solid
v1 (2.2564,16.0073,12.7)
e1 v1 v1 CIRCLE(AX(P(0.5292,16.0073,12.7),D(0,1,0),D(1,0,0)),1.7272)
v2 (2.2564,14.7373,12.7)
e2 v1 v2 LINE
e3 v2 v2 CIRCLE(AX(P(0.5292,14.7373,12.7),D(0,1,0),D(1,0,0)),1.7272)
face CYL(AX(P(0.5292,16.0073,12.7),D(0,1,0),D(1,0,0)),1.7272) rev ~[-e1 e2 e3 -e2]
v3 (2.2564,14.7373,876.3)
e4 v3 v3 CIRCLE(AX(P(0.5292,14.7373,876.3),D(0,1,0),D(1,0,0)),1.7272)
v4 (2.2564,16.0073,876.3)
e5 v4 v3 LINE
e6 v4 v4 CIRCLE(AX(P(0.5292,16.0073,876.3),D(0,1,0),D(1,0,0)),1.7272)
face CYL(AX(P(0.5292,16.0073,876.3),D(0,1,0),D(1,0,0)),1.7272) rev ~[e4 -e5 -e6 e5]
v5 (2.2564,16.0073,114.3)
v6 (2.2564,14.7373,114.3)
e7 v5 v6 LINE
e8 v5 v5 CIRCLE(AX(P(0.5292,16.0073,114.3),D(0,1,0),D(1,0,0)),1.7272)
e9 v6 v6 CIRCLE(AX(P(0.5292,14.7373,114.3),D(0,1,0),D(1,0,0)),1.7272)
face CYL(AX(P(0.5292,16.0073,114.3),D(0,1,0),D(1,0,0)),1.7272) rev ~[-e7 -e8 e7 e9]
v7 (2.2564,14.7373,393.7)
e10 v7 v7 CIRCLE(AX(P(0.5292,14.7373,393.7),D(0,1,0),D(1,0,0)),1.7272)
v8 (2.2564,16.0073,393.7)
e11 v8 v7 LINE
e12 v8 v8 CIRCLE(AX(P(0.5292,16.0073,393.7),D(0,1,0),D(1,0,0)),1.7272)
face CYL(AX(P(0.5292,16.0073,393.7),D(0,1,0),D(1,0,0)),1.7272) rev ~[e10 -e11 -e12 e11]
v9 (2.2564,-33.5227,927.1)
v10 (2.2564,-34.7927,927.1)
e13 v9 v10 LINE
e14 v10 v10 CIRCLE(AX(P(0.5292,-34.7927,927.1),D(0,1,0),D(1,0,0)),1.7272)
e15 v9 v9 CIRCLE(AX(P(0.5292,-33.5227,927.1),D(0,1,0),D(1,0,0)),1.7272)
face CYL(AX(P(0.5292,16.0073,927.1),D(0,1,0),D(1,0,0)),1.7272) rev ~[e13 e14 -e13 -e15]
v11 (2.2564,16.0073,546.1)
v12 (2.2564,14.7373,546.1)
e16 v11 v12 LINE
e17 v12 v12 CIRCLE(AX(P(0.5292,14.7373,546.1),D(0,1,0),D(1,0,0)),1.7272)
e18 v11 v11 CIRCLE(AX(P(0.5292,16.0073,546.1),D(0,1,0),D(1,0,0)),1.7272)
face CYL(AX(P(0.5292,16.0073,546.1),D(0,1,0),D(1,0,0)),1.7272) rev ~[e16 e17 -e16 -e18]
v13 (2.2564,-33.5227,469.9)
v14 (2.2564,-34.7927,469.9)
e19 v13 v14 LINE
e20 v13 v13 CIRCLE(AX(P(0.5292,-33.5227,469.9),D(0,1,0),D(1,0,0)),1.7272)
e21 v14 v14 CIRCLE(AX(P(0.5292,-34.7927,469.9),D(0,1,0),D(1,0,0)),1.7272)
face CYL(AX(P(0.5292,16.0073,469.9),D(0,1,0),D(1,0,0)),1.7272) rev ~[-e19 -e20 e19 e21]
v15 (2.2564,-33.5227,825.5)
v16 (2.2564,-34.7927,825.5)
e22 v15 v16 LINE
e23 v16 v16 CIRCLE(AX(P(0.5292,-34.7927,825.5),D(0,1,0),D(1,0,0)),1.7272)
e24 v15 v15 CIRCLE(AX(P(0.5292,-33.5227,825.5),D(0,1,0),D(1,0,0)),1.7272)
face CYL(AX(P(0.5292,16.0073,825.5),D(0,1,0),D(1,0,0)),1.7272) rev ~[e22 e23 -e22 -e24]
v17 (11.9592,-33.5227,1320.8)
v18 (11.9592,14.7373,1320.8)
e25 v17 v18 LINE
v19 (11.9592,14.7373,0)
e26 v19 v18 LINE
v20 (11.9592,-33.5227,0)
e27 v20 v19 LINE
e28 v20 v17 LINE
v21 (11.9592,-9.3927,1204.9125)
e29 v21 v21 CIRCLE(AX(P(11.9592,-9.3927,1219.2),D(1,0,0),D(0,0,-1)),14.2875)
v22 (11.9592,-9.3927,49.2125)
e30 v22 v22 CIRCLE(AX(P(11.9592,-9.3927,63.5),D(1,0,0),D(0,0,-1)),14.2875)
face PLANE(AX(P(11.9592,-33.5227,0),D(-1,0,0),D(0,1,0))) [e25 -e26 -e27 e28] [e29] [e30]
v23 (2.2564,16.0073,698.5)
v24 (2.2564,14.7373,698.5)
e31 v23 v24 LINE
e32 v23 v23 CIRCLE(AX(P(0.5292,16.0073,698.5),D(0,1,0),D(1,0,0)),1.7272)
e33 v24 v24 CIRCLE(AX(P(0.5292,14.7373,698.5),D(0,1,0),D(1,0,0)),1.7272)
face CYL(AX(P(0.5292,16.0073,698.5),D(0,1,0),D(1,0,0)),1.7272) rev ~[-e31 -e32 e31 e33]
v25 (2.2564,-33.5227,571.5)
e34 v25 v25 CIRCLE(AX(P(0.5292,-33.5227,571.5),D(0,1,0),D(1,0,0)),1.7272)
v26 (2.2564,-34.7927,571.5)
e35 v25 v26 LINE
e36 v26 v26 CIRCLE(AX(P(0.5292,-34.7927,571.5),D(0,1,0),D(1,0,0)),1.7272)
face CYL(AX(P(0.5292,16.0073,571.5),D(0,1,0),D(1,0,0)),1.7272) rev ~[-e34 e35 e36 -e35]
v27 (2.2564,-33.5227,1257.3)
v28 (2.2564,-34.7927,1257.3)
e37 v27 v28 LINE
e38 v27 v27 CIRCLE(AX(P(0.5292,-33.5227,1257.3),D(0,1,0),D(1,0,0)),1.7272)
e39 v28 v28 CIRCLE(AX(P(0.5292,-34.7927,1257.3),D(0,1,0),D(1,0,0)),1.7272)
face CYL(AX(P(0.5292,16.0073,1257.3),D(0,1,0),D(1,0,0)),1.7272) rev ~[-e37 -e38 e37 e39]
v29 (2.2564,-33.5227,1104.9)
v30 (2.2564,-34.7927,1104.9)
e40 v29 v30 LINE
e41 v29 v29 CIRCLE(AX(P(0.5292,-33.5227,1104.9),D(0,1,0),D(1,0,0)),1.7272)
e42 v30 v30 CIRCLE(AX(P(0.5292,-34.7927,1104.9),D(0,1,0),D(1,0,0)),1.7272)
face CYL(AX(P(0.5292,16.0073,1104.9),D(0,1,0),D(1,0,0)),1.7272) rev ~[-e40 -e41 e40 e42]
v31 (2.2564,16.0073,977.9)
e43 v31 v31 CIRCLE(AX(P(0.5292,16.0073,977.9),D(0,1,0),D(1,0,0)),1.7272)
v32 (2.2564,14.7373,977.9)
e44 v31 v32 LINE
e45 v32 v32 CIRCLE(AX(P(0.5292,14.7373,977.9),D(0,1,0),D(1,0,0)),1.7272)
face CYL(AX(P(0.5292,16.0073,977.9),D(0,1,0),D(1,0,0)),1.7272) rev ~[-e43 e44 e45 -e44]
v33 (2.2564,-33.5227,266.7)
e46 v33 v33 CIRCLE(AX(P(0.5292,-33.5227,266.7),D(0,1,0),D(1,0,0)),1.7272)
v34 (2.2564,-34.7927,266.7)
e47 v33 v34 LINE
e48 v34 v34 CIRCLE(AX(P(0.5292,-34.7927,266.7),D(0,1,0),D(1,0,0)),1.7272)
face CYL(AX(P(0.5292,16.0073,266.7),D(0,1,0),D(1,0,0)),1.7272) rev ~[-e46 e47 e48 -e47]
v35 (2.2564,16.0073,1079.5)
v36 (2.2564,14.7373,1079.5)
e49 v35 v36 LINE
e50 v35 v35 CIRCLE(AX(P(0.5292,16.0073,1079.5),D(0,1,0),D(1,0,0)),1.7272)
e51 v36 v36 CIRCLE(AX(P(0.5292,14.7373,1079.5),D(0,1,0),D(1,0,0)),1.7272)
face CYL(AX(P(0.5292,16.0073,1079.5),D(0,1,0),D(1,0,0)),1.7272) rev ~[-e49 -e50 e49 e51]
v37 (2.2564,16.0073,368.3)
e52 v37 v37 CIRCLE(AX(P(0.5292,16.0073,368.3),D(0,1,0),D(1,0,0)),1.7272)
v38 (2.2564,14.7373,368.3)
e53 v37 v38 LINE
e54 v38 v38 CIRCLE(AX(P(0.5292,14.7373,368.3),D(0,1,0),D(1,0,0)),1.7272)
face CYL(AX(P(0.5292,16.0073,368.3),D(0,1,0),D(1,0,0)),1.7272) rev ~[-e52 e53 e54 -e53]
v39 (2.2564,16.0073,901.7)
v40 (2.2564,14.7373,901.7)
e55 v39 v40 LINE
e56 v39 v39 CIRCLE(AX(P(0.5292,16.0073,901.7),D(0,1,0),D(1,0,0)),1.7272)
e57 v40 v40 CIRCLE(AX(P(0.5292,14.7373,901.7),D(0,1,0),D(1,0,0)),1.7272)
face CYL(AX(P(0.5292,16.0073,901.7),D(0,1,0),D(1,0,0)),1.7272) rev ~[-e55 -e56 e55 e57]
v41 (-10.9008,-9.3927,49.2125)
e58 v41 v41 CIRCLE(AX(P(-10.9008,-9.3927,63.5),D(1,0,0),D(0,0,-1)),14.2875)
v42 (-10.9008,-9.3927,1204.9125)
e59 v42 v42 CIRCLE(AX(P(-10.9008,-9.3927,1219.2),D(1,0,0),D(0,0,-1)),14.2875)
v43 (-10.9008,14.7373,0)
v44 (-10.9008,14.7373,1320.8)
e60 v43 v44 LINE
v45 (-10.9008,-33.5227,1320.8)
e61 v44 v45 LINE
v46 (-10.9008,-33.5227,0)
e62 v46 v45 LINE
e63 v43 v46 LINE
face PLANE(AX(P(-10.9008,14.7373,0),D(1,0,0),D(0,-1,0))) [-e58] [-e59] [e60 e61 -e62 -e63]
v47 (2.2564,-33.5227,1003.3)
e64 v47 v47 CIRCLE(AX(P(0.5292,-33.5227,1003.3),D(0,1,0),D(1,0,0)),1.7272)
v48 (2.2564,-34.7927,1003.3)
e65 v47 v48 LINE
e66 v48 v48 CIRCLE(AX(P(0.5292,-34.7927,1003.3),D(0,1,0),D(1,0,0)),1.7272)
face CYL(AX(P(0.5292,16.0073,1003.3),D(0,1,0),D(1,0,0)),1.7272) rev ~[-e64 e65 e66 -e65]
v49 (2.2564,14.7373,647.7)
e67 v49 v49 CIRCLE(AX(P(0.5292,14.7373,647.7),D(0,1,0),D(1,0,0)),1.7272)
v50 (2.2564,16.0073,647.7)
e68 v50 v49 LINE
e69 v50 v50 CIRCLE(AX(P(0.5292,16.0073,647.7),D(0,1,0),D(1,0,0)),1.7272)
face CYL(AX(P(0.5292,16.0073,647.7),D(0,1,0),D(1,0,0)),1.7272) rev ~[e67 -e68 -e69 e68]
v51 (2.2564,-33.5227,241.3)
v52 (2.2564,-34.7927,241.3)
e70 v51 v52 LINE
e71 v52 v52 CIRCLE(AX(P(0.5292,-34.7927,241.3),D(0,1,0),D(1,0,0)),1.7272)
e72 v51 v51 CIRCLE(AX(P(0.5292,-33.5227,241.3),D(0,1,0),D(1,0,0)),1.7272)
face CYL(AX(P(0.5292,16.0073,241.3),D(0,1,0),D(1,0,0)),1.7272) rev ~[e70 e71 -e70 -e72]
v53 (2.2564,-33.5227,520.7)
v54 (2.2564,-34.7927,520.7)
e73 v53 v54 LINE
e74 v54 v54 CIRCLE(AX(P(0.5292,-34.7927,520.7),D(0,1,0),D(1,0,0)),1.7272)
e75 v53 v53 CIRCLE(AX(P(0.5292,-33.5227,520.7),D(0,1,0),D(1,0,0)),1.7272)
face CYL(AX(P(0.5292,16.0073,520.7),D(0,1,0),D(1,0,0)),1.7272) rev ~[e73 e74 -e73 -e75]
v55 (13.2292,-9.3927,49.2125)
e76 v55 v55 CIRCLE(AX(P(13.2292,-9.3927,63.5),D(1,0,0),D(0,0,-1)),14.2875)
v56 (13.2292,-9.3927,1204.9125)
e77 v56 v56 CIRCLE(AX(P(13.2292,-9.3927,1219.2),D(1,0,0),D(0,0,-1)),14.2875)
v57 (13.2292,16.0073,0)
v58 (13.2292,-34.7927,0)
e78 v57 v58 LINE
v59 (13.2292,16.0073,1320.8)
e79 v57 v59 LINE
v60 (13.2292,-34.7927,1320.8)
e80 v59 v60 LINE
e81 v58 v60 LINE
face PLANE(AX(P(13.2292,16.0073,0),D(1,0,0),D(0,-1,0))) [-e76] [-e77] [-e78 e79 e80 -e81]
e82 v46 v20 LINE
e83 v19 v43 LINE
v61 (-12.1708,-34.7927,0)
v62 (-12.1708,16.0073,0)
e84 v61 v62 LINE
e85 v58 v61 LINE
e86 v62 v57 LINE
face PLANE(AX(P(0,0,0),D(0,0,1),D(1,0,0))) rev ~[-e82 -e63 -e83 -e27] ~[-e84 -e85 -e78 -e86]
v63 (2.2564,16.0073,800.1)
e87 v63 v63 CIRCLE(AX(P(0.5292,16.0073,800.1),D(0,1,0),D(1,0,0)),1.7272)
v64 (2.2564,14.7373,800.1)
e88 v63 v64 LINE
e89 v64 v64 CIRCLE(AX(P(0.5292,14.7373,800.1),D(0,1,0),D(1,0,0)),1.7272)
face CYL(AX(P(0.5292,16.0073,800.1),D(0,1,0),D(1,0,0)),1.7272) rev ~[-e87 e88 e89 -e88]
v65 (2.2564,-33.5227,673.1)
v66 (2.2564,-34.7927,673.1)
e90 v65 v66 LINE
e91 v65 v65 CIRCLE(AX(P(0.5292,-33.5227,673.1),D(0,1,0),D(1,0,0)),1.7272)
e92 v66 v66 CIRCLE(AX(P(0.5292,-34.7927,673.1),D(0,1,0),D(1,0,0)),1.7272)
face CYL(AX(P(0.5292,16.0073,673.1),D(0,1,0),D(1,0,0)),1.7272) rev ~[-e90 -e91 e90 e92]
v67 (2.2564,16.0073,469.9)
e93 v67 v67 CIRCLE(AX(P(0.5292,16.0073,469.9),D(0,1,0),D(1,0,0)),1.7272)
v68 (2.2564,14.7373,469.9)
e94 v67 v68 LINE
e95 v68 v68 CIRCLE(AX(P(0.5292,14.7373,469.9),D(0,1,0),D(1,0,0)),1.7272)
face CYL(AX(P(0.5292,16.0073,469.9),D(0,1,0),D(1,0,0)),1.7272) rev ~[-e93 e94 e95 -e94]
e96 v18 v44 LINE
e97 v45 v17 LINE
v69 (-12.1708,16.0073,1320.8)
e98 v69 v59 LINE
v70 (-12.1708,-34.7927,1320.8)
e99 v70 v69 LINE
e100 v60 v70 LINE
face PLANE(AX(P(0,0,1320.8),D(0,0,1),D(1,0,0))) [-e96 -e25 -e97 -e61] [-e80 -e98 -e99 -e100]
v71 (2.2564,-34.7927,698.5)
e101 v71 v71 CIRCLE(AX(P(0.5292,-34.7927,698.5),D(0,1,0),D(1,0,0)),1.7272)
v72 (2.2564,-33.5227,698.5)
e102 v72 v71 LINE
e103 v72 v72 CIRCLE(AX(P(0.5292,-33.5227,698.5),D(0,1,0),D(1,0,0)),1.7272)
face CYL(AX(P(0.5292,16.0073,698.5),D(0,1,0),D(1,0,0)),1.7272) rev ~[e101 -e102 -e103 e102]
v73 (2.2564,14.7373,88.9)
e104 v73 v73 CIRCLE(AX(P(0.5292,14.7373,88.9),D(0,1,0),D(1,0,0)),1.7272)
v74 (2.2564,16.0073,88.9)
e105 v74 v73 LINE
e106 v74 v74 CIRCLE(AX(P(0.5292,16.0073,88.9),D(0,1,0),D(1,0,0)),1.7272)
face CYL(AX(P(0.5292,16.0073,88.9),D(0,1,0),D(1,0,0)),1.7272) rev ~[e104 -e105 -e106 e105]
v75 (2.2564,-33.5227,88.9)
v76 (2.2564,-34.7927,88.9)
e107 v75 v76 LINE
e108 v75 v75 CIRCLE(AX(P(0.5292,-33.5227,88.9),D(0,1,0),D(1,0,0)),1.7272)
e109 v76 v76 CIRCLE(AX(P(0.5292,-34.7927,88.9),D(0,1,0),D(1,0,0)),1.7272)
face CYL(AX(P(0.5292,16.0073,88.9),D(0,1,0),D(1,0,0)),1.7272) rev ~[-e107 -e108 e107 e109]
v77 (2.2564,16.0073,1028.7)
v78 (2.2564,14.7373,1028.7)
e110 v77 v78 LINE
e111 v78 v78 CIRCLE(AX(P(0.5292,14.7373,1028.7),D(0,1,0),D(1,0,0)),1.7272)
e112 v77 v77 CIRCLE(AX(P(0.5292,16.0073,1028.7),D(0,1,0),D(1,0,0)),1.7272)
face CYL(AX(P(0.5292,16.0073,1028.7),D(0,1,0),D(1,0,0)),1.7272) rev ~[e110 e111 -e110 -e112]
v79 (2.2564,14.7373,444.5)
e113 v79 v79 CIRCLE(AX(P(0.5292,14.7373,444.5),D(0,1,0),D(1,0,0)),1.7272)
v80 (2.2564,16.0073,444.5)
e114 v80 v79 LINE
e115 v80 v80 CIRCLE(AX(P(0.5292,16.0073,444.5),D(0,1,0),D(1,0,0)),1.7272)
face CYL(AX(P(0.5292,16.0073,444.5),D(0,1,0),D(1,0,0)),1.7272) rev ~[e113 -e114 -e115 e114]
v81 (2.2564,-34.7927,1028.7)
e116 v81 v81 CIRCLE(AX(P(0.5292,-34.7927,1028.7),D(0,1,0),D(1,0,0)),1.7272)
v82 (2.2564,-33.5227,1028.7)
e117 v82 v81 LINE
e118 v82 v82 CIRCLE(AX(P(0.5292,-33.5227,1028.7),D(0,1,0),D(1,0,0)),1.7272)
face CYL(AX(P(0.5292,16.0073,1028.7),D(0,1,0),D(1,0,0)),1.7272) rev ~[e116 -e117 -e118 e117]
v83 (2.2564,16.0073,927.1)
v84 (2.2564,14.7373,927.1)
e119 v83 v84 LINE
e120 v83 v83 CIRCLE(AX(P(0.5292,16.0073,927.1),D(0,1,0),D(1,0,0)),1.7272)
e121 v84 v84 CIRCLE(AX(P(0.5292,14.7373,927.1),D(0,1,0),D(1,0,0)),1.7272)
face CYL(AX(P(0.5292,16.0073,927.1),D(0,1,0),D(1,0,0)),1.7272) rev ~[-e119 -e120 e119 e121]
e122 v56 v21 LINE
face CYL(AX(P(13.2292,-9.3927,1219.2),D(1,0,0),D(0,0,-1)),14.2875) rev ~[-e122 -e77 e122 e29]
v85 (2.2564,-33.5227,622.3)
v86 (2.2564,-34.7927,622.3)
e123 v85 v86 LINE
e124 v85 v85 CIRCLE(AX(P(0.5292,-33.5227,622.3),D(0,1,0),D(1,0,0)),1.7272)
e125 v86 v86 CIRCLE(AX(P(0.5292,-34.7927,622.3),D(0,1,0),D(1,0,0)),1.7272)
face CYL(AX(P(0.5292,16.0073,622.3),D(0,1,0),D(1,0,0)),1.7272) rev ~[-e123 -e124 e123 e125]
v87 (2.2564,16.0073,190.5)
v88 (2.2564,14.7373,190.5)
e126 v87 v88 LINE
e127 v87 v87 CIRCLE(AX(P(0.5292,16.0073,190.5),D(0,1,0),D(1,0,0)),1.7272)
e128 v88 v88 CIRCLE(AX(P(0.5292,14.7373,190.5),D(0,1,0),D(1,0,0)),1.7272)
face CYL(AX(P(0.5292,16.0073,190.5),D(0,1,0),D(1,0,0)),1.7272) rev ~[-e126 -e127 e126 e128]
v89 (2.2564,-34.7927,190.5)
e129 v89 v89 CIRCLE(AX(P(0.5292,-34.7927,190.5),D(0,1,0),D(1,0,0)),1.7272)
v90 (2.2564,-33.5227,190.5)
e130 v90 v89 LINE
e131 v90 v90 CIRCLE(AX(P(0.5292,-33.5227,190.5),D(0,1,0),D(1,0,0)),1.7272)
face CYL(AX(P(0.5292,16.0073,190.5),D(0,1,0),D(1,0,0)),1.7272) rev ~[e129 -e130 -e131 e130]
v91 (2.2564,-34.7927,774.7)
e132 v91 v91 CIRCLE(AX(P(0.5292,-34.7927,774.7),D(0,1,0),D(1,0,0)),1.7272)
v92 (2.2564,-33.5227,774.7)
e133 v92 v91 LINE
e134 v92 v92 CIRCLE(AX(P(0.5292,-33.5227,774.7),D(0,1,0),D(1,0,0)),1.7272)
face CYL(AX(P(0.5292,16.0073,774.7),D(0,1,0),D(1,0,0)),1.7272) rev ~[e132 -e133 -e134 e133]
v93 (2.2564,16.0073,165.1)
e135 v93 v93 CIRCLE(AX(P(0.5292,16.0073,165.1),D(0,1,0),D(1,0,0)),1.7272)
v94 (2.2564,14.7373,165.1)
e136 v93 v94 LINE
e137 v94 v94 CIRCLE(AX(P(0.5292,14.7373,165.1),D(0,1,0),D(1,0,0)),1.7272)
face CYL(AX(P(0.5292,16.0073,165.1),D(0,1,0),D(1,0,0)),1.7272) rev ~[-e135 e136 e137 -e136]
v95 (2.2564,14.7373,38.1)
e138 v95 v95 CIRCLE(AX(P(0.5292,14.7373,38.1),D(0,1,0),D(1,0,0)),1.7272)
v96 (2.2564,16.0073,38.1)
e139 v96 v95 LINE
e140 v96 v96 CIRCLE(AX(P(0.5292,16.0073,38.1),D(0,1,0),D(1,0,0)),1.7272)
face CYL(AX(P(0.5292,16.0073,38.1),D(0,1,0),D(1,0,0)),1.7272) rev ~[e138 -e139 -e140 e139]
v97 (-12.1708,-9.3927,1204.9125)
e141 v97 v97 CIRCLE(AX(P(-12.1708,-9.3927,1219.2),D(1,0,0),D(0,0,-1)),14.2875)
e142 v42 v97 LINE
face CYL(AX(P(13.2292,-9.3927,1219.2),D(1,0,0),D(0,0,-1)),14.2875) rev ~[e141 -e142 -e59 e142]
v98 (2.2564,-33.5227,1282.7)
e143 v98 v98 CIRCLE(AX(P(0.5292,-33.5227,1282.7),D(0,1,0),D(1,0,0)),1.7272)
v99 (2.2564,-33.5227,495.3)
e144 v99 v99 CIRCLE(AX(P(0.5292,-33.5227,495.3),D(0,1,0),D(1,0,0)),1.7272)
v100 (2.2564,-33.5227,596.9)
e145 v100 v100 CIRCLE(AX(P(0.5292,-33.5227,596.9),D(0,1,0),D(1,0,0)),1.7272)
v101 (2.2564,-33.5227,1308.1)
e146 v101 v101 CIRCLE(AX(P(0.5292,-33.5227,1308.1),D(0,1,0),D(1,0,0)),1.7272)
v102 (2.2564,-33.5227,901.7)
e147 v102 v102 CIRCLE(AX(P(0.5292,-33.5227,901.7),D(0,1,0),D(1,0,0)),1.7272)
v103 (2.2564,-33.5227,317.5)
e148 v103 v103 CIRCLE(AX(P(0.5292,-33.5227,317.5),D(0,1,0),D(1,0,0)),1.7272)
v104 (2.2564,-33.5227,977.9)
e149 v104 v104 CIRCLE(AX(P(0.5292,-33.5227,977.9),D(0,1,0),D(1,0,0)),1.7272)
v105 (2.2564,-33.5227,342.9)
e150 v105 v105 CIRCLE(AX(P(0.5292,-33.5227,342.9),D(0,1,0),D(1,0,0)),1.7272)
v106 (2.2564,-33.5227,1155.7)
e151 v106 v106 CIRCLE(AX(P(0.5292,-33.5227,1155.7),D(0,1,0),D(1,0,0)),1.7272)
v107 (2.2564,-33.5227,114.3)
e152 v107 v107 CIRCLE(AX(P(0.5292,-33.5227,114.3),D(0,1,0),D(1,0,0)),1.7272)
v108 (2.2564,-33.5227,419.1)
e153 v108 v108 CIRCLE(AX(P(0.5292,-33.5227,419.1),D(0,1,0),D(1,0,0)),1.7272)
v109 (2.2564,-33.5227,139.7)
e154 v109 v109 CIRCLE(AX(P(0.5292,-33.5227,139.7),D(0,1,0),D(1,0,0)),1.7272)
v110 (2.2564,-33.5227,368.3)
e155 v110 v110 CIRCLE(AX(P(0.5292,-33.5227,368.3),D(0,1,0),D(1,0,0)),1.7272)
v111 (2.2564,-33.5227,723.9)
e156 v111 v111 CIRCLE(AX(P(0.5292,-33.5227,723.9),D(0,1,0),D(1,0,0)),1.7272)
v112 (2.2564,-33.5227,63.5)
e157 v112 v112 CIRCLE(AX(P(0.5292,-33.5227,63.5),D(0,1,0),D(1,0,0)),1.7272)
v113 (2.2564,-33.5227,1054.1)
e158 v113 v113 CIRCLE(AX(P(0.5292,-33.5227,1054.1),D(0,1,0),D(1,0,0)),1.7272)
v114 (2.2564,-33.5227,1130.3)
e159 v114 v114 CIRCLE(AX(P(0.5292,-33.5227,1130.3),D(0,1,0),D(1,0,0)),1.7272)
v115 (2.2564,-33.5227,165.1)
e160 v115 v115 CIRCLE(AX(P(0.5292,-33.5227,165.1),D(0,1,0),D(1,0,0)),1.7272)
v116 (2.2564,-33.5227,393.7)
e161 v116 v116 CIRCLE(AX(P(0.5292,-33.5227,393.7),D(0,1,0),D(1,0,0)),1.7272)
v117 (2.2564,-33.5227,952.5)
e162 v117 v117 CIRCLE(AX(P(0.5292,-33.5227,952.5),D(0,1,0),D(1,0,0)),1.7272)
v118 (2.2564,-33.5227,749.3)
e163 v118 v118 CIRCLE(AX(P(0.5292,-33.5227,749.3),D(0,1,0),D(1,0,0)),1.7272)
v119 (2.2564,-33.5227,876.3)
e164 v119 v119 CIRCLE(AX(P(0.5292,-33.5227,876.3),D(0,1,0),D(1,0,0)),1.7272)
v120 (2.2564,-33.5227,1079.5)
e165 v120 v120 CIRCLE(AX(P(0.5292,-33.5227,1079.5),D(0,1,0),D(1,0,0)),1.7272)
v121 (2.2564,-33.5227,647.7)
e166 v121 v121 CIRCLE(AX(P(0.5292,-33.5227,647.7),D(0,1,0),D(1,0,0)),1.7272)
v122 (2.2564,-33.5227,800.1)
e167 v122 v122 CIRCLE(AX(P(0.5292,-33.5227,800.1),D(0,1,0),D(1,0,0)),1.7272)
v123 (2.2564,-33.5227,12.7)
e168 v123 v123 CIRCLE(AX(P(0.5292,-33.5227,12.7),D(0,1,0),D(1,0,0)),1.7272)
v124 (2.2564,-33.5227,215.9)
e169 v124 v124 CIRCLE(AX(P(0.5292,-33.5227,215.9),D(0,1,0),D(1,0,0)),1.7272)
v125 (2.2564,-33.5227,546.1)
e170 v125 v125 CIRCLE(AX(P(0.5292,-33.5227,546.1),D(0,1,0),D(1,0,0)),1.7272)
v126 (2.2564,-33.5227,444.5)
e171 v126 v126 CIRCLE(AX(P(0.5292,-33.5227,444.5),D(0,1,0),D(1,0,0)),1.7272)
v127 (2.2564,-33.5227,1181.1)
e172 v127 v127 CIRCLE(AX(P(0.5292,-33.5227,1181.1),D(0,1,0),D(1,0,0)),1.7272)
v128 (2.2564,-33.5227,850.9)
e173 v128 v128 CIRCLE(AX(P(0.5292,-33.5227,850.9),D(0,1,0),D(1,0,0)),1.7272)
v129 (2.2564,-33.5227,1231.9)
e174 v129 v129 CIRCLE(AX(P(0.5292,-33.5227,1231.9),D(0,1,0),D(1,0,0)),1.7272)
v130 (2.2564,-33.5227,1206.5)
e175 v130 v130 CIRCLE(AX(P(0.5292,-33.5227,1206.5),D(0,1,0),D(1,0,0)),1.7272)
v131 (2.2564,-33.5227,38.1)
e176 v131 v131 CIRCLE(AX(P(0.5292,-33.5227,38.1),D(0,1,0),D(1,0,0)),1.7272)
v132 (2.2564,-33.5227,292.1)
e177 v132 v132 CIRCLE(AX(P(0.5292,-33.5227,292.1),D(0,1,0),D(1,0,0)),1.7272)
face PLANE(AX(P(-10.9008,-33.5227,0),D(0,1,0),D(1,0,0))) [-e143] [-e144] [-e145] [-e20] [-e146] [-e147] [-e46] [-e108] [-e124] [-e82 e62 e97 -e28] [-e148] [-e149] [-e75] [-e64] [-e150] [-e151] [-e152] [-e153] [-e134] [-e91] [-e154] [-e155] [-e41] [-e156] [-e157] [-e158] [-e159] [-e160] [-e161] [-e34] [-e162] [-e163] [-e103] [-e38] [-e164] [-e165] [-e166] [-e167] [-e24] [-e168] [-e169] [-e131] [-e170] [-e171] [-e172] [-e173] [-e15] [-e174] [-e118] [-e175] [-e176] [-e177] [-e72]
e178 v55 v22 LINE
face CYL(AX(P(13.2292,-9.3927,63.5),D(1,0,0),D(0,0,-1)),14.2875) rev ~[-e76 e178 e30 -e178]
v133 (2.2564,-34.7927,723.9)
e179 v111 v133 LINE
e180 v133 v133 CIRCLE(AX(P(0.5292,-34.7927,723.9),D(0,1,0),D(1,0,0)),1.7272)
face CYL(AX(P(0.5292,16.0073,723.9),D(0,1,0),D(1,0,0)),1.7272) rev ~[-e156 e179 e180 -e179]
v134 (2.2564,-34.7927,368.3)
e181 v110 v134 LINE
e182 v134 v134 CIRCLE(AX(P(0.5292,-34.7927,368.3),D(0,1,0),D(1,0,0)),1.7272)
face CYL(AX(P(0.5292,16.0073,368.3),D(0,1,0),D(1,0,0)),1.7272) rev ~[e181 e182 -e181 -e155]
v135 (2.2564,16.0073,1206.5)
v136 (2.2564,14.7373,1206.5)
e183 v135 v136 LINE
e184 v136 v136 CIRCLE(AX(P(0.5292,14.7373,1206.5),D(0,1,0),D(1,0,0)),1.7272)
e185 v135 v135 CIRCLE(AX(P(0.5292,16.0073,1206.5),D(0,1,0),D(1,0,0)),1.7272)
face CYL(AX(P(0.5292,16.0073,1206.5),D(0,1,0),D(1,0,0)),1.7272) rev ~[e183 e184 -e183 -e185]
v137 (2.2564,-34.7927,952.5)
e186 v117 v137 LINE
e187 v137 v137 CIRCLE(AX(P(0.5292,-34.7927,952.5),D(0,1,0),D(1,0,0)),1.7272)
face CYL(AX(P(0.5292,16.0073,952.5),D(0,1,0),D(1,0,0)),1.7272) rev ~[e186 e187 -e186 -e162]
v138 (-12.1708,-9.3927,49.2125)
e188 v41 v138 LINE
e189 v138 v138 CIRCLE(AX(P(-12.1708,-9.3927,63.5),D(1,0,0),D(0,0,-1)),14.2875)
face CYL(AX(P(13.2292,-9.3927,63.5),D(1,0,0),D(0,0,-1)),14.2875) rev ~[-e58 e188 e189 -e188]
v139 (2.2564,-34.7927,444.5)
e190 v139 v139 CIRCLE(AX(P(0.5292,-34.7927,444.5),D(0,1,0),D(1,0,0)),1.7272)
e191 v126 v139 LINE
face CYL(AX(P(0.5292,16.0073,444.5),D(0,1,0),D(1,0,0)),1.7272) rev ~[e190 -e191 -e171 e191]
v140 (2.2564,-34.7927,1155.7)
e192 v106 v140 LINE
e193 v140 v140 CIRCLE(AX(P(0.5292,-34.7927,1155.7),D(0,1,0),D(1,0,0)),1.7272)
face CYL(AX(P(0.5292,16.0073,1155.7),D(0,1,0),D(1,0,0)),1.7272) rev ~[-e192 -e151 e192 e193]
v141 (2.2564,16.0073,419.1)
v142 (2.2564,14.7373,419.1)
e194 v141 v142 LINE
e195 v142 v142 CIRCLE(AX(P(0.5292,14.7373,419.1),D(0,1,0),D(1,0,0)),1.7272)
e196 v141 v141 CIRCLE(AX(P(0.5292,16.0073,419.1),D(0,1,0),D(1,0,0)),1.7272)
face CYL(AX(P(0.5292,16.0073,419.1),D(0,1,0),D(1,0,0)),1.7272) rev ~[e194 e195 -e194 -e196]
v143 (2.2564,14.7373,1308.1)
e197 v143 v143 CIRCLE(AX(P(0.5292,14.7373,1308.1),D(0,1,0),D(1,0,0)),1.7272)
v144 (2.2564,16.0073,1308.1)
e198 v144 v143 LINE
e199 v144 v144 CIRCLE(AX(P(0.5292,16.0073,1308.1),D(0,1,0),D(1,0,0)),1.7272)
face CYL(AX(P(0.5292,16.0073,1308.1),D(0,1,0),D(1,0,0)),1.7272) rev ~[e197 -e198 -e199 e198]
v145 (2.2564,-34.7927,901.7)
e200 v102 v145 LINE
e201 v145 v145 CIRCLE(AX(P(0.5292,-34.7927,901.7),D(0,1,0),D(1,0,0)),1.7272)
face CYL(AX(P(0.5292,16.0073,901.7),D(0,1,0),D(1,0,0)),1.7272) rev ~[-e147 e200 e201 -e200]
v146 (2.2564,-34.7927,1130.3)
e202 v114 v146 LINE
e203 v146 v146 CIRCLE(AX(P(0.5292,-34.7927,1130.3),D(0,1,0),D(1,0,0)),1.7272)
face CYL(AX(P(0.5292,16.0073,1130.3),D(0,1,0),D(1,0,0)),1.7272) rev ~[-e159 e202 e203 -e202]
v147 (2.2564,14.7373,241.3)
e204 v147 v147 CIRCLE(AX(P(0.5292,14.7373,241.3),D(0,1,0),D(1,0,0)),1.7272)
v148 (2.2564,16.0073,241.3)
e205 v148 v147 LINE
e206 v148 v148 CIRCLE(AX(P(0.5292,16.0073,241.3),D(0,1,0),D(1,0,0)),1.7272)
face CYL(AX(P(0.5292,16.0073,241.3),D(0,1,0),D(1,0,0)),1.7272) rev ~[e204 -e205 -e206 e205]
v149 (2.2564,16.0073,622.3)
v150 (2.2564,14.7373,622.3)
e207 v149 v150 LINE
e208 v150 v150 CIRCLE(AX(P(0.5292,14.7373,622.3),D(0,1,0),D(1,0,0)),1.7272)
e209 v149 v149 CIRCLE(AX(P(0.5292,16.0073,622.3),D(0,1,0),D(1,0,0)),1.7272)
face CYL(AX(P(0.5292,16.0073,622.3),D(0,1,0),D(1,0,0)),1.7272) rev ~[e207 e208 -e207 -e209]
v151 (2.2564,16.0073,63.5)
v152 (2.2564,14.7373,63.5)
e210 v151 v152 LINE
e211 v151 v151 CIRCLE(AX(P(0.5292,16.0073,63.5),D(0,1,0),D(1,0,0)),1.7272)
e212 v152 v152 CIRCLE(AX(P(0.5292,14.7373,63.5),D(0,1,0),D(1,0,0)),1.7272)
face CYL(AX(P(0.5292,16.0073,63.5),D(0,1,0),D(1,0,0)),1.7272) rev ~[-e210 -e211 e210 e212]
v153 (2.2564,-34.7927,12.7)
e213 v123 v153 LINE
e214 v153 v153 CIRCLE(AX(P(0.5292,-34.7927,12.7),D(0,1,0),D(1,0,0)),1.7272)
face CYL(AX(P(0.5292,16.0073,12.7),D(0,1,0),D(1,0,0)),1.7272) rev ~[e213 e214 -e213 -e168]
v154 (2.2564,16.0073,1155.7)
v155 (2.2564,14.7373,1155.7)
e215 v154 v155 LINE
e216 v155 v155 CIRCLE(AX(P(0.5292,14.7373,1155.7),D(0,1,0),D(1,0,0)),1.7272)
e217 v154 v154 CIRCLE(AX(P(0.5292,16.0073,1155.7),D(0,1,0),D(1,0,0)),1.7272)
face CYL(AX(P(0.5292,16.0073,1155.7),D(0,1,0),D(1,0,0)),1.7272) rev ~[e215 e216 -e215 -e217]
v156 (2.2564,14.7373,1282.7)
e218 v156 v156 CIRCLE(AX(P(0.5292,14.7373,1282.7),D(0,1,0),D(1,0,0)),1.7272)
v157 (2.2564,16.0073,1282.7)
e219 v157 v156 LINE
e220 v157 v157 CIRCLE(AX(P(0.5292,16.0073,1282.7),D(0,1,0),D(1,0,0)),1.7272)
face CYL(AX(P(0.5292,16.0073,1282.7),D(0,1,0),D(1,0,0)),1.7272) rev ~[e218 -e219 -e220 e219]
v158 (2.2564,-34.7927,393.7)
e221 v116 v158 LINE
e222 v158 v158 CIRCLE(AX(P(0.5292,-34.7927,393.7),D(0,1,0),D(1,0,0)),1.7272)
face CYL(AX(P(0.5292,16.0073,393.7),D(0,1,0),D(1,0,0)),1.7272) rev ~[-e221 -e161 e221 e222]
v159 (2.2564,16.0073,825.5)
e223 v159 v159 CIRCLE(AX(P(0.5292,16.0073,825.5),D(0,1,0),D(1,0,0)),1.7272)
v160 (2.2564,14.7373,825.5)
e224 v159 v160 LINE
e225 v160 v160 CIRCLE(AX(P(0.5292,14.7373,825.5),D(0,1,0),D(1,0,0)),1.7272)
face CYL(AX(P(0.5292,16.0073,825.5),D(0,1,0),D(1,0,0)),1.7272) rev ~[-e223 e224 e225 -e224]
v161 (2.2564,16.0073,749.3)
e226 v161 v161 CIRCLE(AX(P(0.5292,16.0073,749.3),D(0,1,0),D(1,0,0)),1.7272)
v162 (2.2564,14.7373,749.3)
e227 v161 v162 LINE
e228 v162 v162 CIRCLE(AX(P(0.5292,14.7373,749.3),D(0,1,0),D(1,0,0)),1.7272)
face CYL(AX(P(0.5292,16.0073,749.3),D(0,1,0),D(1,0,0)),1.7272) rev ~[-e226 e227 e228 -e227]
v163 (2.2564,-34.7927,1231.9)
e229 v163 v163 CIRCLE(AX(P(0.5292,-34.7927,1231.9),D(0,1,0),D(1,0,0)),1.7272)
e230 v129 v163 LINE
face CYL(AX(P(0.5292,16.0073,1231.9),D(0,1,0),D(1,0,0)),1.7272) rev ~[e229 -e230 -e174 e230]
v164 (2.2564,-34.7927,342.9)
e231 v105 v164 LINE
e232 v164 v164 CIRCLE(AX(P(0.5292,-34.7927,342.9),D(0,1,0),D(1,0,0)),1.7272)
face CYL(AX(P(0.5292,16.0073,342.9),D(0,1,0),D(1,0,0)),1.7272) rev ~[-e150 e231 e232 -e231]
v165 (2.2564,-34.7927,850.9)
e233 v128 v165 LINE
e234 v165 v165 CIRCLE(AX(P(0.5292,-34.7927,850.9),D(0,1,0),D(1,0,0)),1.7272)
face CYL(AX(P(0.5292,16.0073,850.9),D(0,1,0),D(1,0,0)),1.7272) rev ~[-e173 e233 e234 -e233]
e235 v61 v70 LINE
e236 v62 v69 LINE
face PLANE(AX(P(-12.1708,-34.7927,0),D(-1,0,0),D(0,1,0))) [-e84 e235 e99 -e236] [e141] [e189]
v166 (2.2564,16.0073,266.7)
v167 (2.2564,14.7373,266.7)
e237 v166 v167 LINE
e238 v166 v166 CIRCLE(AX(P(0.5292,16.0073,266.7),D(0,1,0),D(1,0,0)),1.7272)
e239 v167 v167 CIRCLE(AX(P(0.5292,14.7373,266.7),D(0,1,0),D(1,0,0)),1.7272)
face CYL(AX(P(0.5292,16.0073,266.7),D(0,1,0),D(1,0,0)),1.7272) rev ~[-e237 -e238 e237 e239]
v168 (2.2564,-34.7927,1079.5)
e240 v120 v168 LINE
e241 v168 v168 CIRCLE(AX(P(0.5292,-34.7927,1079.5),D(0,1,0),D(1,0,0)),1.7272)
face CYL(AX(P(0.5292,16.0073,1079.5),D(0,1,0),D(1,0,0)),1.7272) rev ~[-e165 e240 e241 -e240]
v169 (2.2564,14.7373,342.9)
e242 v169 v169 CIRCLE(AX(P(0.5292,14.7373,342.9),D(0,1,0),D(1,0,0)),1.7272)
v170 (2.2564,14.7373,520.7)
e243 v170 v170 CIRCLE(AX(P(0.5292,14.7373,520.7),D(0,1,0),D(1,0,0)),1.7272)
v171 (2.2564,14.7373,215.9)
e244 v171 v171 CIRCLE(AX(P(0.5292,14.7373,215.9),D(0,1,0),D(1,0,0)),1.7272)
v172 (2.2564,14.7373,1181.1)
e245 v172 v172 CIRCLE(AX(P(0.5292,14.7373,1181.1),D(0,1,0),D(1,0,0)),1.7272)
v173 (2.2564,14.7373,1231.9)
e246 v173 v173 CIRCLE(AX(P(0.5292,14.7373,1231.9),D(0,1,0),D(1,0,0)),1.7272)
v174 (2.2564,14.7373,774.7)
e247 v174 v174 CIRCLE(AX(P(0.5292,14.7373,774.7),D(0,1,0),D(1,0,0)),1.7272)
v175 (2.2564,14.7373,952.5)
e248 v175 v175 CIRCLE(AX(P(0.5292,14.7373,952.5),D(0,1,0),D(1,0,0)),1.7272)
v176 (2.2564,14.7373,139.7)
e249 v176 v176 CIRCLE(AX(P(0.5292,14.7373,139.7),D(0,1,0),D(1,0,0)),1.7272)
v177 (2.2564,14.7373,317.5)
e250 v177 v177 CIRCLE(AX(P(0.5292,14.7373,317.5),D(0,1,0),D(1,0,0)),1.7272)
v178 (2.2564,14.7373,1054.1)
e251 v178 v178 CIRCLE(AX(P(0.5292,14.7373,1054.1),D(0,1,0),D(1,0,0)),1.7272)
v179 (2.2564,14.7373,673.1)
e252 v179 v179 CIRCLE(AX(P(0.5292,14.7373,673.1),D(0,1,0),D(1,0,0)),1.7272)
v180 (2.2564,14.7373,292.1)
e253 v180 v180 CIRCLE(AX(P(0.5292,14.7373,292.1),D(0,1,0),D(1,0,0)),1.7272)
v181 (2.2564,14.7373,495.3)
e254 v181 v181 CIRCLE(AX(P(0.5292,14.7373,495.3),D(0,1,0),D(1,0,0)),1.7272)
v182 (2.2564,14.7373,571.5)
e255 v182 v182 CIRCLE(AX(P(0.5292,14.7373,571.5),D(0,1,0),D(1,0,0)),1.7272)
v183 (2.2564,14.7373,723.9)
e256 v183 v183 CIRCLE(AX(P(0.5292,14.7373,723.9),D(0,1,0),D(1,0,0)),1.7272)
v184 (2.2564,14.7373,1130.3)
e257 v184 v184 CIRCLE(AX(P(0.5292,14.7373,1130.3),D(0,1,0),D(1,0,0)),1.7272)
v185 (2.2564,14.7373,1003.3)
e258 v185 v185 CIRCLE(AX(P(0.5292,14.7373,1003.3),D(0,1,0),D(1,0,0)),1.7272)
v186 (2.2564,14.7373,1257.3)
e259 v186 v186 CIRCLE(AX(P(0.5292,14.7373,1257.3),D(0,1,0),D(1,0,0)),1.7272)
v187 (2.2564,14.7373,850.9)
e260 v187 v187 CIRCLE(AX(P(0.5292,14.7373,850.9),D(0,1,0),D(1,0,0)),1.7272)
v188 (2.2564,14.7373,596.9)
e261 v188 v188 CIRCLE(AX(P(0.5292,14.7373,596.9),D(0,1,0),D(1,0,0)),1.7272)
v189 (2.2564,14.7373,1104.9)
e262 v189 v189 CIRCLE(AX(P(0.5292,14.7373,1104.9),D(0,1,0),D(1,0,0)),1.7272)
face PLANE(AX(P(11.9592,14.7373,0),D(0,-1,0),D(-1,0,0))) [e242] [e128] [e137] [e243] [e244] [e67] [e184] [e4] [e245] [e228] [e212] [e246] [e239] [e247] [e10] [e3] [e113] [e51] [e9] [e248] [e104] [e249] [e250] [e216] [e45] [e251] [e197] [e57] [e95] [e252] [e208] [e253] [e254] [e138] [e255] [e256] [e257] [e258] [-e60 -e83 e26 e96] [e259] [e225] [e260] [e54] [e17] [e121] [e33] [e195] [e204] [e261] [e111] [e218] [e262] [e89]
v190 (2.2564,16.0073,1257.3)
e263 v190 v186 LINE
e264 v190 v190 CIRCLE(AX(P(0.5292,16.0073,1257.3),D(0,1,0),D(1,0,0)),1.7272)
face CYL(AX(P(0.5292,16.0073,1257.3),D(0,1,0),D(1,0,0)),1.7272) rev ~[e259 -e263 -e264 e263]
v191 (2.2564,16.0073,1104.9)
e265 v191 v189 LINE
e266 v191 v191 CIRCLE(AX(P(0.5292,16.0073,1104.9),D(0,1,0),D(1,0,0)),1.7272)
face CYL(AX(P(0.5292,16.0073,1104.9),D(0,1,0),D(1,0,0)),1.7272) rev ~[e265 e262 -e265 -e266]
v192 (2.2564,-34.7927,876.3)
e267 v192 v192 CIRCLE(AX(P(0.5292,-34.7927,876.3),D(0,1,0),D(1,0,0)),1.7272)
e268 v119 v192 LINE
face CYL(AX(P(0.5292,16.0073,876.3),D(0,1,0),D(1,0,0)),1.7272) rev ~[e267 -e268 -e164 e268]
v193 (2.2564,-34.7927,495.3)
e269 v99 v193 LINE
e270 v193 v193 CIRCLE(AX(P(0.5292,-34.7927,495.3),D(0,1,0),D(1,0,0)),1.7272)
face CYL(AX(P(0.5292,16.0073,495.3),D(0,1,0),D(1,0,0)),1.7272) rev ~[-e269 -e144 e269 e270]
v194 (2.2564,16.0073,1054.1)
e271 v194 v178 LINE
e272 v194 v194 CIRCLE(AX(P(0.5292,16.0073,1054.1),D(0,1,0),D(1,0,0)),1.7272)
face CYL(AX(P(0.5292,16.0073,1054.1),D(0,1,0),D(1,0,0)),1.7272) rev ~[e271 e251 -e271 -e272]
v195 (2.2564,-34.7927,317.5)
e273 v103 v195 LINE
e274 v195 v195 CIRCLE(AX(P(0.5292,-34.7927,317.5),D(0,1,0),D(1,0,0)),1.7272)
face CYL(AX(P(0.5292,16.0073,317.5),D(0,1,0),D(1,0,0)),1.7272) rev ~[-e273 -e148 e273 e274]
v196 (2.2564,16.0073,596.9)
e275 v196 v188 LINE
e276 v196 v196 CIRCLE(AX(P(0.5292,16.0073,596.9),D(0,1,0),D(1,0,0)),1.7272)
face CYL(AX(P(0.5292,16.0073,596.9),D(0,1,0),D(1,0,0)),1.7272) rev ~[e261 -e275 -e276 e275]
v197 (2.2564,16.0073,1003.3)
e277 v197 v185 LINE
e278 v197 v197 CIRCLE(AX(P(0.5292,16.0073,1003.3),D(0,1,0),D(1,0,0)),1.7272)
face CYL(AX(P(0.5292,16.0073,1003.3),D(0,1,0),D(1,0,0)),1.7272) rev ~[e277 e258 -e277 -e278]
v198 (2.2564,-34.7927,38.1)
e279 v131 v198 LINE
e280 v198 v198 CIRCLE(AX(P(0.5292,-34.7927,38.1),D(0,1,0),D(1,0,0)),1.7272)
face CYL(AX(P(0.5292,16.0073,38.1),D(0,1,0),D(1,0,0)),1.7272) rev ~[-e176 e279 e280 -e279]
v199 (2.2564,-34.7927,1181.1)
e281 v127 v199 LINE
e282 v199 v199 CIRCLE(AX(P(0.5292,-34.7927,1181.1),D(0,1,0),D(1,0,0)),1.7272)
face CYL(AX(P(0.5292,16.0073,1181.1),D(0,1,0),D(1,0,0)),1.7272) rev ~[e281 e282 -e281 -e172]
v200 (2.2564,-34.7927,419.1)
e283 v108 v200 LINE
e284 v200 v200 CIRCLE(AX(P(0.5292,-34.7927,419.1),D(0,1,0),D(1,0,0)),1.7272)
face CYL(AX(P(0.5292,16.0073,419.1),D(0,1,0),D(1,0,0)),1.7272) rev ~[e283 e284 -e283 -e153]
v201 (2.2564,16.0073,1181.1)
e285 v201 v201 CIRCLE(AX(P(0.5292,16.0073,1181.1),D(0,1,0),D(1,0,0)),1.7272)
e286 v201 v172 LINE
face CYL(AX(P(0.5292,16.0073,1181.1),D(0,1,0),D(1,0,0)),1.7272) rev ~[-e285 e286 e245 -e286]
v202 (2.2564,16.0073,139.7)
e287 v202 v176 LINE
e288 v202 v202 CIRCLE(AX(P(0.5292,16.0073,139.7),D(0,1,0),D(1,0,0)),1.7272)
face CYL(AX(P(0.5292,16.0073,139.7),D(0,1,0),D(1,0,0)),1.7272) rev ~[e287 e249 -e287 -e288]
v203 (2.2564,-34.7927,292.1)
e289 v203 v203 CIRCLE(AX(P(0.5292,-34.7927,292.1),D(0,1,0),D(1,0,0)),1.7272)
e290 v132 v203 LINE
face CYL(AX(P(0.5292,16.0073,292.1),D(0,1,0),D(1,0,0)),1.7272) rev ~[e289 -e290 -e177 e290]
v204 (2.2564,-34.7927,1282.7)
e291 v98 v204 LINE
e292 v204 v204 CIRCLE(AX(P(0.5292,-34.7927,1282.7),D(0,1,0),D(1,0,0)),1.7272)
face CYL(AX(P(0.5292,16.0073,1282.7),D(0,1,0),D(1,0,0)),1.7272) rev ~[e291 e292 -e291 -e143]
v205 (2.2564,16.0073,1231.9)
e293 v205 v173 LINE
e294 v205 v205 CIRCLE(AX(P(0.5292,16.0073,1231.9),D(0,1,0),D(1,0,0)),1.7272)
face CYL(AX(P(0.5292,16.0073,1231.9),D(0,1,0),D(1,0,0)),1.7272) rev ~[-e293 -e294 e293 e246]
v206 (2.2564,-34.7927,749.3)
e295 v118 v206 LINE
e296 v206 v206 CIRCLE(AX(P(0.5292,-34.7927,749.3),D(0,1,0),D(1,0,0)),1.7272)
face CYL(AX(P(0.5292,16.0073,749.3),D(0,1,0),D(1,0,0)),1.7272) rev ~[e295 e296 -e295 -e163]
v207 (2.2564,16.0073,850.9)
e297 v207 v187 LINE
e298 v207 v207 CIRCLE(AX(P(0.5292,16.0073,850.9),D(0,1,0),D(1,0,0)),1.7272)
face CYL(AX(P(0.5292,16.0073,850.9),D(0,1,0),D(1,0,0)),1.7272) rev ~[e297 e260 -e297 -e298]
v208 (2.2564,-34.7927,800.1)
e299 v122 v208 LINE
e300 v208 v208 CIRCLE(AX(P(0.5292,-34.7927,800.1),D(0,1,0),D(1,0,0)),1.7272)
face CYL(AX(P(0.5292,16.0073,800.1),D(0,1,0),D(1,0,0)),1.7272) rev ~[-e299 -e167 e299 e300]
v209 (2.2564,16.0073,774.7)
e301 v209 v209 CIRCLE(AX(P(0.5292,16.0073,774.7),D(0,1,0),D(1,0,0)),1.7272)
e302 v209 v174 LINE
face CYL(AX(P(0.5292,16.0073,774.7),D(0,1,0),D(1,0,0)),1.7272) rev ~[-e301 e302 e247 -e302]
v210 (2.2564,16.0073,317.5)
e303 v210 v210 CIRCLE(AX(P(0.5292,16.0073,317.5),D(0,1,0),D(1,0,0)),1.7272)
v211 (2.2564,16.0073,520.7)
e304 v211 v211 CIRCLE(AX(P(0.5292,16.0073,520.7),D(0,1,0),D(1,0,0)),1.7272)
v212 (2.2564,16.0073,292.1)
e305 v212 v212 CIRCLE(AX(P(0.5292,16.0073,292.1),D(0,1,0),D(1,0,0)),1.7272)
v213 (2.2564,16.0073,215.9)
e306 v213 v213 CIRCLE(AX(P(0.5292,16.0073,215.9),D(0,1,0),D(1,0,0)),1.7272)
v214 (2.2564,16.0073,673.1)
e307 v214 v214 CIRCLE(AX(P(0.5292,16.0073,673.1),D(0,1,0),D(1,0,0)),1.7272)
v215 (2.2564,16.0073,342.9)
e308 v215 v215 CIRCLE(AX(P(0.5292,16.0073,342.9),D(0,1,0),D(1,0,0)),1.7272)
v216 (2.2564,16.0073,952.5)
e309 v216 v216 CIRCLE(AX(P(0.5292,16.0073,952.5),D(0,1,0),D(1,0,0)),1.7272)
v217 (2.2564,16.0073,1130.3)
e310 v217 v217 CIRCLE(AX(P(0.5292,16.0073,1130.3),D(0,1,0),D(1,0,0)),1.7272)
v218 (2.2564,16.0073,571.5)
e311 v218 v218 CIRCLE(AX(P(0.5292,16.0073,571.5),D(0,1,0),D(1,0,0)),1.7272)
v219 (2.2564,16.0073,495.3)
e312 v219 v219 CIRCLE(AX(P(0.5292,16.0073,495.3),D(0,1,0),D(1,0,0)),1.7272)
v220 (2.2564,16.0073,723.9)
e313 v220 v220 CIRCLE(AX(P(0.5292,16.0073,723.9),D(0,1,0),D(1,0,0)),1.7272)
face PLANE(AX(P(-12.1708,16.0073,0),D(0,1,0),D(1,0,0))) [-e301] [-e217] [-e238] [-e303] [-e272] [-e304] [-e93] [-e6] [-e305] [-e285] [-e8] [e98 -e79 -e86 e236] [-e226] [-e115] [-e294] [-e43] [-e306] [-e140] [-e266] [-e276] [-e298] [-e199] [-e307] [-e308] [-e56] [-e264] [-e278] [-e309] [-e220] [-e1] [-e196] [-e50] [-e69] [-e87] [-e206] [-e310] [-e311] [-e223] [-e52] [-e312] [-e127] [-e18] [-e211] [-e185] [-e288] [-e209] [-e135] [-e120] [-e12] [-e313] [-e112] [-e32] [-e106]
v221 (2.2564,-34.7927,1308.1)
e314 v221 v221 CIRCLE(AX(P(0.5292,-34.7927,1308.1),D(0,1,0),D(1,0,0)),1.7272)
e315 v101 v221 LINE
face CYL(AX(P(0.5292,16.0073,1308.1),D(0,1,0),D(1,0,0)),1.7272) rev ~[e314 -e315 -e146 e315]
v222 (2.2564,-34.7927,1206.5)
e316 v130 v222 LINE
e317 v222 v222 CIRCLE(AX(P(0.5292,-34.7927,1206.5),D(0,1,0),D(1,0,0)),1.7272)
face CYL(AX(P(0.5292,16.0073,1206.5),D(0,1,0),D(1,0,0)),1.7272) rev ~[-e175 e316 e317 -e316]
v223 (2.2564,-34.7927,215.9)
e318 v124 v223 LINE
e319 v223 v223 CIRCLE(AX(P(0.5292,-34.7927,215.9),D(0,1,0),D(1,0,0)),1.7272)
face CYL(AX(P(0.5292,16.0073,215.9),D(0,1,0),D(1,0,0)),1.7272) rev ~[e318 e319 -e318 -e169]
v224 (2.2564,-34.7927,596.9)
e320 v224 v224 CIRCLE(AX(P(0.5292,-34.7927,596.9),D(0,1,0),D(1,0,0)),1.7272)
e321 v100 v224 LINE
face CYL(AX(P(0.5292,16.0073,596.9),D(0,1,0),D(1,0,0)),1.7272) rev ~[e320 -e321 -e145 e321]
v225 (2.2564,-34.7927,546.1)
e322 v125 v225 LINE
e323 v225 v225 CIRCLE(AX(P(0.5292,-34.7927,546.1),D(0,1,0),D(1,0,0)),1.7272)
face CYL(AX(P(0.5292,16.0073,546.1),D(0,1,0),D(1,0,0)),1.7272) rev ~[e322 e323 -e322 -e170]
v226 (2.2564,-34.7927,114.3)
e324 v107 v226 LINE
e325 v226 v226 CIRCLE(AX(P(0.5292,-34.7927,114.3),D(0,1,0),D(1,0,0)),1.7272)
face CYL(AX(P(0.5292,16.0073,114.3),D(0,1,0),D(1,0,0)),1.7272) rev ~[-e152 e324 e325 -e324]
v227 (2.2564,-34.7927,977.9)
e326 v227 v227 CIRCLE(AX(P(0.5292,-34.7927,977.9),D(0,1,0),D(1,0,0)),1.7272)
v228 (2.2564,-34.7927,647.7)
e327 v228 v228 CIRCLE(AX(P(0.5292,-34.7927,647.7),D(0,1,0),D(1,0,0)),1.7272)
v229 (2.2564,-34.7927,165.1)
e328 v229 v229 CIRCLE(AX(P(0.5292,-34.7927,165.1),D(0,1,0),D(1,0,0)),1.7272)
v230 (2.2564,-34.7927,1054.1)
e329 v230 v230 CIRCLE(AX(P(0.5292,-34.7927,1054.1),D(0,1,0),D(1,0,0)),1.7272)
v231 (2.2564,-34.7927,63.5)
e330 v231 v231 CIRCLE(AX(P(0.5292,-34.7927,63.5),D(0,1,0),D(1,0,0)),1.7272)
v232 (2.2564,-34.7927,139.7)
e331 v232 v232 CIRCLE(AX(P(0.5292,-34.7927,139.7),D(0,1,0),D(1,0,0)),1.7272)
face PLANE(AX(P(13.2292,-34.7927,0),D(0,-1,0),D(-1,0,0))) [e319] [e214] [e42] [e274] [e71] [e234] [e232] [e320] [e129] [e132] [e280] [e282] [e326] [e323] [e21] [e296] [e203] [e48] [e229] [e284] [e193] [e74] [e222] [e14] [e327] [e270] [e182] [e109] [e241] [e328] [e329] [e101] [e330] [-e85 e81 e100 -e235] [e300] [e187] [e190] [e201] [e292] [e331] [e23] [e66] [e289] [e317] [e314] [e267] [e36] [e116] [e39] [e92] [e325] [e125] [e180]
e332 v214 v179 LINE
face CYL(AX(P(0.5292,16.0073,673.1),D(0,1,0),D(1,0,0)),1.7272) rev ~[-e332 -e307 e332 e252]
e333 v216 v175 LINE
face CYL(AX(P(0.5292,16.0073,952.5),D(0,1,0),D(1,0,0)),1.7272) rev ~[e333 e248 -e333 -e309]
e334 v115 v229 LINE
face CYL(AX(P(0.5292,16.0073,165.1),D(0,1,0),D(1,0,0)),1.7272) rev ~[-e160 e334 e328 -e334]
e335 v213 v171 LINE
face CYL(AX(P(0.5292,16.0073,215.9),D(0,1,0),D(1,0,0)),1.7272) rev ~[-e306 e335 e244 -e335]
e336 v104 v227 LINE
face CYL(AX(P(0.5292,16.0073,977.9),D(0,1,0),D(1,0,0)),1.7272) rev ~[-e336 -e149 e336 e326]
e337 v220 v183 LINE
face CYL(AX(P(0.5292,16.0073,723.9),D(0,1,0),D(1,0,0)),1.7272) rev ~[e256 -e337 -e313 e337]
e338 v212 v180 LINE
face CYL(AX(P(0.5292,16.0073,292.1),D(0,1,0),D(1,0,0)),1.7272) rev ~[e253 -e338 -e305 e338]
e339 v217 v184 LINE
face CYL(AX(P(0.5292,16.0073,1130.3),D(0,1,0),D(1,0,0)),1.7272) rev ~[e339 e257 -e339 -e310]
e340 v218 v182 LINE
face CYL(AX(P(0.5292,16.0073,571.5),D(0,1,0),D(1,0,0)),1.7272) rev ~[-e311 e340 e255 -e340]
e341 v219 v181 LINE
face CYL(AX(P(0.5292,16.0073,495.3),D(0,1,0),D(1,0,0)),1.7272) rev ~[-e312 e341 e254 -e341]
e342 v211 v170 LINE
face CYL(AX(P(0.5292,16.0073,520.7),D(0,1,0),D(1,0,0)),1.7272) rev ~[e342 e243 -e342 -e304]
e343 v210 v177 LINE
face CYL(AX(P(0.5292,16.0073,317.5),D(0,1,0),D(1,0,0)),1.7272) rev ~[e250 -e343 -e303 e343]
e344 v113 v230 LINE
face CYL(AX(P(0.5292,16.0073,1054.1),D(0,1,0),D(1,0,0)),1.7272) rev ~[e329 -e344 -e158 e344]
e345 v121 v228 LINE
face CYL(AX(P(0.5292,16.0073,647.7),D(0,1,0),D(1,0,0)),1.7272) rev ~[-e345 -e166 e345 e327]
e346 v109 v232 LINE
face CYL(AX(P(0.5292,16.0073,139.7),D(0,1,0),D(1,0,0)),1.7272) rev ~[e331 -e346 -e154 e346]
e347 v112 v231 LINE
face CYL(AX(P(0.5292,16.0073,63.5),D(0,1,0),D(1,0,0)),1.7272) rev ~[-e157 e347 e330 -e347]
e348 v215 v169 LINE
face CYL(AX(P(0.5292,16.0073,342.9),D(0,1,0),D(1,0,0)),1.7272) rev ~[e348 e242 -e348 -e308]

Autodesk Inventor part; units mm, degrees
ref_plane "YZ Plane" through (0, 0, 0) normal (1, 0, 0) x (0, 1, 0)
ref_plane "XZ Plane" through (0, 0, 0) normal (0, 1, 0) x (-1, 0, 0)
ref_plane "XY Plane" through (0, 0, 0) normal (0, 0, 1) x (1, 0, 0)
sketch "Sketch1" plane through (0, 0, 0) normal (0, 0, 1) x (1, 0, 0)
  line L0 (-12.1708, 16.0073) -> (13.2292, 16.0073)
  line L1 (13.2292, 16.0073) -> (13.2292, -34.7927)
  line L2 (13.2292, -34.7927) -> (-12.1708, -34.7927)
  line L3 (-12.1708, -34.7927) -> (-12.1708, 16.0073)
  line L4 (11.9592, 14.7373) -> (-10.9008, 14.7373)
  line L5 (-10.9008, 14.7373) -> (-10.9008, -33.5227)
  line L6 (-10.9008, -33.5227) -> (11.9592, -33.5227)
  line L7 (11.9592, -33.5227) -> (11.9592, 14.7373)
  point P0 (0, 0)
  dimension "d0" = 25.4
  dimension "d1" = 50.8
  dimension "d2" = 1.27
extrude "Extrusion1" add sketch "Sketch1" along normal blind 1320.8
sketch "Sketch2" plane through (-12.1708, 16.0073, 0) normal (0, 1, 0) x (1, 0, 0)
  circle A0 centre (12.7, -12.7) radius 1.7272
  line L0 (25.4, 0) -> (0, 0) projected
  line L1 (0, 0) -> (0, -1320.8) projected
  point P0 (12.1708, 0)
  dimension "d5" = 3.4544
  dimension "d6" = 12.7
  dimension "d7" = 12.7
extrude "Extrusion2" cut sketch "Sketch2" against normal through all
pattern_linear "Rectangular Pattern1" count 132 spacing 25.4 along (0, 0, 1) of "Extrusion2"
sketch "Sketch4" plane through (13.2292, -34.7927, 0) normal (1, 0, 0) x (0, 0, -1)
  circle A0 centre (-1219.2, 25.4) radius 14.2875
  line L0 (0, 0) -> (0, 50.8) projected
  line L1 (0, 0) -> (-1320.8, 0) projected
  line L2 (-1320.8, 0) -> (-1320.8, 50.8) projected
  point P0 (0, 34.7927)
  point P1 (-1320.8, 25.4)
  dimension "d22" = 25.4
  dimension "d23" = 28.575
  dimension "d26" = 101.6
extrude "Extrusion4" cut sketch "Sketch4" against normal blind 25.4
pattern_linear "Rectangular Pattern2" count 2 spacing 1155.7 along (0, 0, -1) of "Extrusion4"
equation "\"d3\" = d13"
equation "\"d10\" = d14"
equation "\"d13\" = 1320.8"
equation "\"d14\" = d13"
properties part number "VersaFrame(tower arms) V1.2"
